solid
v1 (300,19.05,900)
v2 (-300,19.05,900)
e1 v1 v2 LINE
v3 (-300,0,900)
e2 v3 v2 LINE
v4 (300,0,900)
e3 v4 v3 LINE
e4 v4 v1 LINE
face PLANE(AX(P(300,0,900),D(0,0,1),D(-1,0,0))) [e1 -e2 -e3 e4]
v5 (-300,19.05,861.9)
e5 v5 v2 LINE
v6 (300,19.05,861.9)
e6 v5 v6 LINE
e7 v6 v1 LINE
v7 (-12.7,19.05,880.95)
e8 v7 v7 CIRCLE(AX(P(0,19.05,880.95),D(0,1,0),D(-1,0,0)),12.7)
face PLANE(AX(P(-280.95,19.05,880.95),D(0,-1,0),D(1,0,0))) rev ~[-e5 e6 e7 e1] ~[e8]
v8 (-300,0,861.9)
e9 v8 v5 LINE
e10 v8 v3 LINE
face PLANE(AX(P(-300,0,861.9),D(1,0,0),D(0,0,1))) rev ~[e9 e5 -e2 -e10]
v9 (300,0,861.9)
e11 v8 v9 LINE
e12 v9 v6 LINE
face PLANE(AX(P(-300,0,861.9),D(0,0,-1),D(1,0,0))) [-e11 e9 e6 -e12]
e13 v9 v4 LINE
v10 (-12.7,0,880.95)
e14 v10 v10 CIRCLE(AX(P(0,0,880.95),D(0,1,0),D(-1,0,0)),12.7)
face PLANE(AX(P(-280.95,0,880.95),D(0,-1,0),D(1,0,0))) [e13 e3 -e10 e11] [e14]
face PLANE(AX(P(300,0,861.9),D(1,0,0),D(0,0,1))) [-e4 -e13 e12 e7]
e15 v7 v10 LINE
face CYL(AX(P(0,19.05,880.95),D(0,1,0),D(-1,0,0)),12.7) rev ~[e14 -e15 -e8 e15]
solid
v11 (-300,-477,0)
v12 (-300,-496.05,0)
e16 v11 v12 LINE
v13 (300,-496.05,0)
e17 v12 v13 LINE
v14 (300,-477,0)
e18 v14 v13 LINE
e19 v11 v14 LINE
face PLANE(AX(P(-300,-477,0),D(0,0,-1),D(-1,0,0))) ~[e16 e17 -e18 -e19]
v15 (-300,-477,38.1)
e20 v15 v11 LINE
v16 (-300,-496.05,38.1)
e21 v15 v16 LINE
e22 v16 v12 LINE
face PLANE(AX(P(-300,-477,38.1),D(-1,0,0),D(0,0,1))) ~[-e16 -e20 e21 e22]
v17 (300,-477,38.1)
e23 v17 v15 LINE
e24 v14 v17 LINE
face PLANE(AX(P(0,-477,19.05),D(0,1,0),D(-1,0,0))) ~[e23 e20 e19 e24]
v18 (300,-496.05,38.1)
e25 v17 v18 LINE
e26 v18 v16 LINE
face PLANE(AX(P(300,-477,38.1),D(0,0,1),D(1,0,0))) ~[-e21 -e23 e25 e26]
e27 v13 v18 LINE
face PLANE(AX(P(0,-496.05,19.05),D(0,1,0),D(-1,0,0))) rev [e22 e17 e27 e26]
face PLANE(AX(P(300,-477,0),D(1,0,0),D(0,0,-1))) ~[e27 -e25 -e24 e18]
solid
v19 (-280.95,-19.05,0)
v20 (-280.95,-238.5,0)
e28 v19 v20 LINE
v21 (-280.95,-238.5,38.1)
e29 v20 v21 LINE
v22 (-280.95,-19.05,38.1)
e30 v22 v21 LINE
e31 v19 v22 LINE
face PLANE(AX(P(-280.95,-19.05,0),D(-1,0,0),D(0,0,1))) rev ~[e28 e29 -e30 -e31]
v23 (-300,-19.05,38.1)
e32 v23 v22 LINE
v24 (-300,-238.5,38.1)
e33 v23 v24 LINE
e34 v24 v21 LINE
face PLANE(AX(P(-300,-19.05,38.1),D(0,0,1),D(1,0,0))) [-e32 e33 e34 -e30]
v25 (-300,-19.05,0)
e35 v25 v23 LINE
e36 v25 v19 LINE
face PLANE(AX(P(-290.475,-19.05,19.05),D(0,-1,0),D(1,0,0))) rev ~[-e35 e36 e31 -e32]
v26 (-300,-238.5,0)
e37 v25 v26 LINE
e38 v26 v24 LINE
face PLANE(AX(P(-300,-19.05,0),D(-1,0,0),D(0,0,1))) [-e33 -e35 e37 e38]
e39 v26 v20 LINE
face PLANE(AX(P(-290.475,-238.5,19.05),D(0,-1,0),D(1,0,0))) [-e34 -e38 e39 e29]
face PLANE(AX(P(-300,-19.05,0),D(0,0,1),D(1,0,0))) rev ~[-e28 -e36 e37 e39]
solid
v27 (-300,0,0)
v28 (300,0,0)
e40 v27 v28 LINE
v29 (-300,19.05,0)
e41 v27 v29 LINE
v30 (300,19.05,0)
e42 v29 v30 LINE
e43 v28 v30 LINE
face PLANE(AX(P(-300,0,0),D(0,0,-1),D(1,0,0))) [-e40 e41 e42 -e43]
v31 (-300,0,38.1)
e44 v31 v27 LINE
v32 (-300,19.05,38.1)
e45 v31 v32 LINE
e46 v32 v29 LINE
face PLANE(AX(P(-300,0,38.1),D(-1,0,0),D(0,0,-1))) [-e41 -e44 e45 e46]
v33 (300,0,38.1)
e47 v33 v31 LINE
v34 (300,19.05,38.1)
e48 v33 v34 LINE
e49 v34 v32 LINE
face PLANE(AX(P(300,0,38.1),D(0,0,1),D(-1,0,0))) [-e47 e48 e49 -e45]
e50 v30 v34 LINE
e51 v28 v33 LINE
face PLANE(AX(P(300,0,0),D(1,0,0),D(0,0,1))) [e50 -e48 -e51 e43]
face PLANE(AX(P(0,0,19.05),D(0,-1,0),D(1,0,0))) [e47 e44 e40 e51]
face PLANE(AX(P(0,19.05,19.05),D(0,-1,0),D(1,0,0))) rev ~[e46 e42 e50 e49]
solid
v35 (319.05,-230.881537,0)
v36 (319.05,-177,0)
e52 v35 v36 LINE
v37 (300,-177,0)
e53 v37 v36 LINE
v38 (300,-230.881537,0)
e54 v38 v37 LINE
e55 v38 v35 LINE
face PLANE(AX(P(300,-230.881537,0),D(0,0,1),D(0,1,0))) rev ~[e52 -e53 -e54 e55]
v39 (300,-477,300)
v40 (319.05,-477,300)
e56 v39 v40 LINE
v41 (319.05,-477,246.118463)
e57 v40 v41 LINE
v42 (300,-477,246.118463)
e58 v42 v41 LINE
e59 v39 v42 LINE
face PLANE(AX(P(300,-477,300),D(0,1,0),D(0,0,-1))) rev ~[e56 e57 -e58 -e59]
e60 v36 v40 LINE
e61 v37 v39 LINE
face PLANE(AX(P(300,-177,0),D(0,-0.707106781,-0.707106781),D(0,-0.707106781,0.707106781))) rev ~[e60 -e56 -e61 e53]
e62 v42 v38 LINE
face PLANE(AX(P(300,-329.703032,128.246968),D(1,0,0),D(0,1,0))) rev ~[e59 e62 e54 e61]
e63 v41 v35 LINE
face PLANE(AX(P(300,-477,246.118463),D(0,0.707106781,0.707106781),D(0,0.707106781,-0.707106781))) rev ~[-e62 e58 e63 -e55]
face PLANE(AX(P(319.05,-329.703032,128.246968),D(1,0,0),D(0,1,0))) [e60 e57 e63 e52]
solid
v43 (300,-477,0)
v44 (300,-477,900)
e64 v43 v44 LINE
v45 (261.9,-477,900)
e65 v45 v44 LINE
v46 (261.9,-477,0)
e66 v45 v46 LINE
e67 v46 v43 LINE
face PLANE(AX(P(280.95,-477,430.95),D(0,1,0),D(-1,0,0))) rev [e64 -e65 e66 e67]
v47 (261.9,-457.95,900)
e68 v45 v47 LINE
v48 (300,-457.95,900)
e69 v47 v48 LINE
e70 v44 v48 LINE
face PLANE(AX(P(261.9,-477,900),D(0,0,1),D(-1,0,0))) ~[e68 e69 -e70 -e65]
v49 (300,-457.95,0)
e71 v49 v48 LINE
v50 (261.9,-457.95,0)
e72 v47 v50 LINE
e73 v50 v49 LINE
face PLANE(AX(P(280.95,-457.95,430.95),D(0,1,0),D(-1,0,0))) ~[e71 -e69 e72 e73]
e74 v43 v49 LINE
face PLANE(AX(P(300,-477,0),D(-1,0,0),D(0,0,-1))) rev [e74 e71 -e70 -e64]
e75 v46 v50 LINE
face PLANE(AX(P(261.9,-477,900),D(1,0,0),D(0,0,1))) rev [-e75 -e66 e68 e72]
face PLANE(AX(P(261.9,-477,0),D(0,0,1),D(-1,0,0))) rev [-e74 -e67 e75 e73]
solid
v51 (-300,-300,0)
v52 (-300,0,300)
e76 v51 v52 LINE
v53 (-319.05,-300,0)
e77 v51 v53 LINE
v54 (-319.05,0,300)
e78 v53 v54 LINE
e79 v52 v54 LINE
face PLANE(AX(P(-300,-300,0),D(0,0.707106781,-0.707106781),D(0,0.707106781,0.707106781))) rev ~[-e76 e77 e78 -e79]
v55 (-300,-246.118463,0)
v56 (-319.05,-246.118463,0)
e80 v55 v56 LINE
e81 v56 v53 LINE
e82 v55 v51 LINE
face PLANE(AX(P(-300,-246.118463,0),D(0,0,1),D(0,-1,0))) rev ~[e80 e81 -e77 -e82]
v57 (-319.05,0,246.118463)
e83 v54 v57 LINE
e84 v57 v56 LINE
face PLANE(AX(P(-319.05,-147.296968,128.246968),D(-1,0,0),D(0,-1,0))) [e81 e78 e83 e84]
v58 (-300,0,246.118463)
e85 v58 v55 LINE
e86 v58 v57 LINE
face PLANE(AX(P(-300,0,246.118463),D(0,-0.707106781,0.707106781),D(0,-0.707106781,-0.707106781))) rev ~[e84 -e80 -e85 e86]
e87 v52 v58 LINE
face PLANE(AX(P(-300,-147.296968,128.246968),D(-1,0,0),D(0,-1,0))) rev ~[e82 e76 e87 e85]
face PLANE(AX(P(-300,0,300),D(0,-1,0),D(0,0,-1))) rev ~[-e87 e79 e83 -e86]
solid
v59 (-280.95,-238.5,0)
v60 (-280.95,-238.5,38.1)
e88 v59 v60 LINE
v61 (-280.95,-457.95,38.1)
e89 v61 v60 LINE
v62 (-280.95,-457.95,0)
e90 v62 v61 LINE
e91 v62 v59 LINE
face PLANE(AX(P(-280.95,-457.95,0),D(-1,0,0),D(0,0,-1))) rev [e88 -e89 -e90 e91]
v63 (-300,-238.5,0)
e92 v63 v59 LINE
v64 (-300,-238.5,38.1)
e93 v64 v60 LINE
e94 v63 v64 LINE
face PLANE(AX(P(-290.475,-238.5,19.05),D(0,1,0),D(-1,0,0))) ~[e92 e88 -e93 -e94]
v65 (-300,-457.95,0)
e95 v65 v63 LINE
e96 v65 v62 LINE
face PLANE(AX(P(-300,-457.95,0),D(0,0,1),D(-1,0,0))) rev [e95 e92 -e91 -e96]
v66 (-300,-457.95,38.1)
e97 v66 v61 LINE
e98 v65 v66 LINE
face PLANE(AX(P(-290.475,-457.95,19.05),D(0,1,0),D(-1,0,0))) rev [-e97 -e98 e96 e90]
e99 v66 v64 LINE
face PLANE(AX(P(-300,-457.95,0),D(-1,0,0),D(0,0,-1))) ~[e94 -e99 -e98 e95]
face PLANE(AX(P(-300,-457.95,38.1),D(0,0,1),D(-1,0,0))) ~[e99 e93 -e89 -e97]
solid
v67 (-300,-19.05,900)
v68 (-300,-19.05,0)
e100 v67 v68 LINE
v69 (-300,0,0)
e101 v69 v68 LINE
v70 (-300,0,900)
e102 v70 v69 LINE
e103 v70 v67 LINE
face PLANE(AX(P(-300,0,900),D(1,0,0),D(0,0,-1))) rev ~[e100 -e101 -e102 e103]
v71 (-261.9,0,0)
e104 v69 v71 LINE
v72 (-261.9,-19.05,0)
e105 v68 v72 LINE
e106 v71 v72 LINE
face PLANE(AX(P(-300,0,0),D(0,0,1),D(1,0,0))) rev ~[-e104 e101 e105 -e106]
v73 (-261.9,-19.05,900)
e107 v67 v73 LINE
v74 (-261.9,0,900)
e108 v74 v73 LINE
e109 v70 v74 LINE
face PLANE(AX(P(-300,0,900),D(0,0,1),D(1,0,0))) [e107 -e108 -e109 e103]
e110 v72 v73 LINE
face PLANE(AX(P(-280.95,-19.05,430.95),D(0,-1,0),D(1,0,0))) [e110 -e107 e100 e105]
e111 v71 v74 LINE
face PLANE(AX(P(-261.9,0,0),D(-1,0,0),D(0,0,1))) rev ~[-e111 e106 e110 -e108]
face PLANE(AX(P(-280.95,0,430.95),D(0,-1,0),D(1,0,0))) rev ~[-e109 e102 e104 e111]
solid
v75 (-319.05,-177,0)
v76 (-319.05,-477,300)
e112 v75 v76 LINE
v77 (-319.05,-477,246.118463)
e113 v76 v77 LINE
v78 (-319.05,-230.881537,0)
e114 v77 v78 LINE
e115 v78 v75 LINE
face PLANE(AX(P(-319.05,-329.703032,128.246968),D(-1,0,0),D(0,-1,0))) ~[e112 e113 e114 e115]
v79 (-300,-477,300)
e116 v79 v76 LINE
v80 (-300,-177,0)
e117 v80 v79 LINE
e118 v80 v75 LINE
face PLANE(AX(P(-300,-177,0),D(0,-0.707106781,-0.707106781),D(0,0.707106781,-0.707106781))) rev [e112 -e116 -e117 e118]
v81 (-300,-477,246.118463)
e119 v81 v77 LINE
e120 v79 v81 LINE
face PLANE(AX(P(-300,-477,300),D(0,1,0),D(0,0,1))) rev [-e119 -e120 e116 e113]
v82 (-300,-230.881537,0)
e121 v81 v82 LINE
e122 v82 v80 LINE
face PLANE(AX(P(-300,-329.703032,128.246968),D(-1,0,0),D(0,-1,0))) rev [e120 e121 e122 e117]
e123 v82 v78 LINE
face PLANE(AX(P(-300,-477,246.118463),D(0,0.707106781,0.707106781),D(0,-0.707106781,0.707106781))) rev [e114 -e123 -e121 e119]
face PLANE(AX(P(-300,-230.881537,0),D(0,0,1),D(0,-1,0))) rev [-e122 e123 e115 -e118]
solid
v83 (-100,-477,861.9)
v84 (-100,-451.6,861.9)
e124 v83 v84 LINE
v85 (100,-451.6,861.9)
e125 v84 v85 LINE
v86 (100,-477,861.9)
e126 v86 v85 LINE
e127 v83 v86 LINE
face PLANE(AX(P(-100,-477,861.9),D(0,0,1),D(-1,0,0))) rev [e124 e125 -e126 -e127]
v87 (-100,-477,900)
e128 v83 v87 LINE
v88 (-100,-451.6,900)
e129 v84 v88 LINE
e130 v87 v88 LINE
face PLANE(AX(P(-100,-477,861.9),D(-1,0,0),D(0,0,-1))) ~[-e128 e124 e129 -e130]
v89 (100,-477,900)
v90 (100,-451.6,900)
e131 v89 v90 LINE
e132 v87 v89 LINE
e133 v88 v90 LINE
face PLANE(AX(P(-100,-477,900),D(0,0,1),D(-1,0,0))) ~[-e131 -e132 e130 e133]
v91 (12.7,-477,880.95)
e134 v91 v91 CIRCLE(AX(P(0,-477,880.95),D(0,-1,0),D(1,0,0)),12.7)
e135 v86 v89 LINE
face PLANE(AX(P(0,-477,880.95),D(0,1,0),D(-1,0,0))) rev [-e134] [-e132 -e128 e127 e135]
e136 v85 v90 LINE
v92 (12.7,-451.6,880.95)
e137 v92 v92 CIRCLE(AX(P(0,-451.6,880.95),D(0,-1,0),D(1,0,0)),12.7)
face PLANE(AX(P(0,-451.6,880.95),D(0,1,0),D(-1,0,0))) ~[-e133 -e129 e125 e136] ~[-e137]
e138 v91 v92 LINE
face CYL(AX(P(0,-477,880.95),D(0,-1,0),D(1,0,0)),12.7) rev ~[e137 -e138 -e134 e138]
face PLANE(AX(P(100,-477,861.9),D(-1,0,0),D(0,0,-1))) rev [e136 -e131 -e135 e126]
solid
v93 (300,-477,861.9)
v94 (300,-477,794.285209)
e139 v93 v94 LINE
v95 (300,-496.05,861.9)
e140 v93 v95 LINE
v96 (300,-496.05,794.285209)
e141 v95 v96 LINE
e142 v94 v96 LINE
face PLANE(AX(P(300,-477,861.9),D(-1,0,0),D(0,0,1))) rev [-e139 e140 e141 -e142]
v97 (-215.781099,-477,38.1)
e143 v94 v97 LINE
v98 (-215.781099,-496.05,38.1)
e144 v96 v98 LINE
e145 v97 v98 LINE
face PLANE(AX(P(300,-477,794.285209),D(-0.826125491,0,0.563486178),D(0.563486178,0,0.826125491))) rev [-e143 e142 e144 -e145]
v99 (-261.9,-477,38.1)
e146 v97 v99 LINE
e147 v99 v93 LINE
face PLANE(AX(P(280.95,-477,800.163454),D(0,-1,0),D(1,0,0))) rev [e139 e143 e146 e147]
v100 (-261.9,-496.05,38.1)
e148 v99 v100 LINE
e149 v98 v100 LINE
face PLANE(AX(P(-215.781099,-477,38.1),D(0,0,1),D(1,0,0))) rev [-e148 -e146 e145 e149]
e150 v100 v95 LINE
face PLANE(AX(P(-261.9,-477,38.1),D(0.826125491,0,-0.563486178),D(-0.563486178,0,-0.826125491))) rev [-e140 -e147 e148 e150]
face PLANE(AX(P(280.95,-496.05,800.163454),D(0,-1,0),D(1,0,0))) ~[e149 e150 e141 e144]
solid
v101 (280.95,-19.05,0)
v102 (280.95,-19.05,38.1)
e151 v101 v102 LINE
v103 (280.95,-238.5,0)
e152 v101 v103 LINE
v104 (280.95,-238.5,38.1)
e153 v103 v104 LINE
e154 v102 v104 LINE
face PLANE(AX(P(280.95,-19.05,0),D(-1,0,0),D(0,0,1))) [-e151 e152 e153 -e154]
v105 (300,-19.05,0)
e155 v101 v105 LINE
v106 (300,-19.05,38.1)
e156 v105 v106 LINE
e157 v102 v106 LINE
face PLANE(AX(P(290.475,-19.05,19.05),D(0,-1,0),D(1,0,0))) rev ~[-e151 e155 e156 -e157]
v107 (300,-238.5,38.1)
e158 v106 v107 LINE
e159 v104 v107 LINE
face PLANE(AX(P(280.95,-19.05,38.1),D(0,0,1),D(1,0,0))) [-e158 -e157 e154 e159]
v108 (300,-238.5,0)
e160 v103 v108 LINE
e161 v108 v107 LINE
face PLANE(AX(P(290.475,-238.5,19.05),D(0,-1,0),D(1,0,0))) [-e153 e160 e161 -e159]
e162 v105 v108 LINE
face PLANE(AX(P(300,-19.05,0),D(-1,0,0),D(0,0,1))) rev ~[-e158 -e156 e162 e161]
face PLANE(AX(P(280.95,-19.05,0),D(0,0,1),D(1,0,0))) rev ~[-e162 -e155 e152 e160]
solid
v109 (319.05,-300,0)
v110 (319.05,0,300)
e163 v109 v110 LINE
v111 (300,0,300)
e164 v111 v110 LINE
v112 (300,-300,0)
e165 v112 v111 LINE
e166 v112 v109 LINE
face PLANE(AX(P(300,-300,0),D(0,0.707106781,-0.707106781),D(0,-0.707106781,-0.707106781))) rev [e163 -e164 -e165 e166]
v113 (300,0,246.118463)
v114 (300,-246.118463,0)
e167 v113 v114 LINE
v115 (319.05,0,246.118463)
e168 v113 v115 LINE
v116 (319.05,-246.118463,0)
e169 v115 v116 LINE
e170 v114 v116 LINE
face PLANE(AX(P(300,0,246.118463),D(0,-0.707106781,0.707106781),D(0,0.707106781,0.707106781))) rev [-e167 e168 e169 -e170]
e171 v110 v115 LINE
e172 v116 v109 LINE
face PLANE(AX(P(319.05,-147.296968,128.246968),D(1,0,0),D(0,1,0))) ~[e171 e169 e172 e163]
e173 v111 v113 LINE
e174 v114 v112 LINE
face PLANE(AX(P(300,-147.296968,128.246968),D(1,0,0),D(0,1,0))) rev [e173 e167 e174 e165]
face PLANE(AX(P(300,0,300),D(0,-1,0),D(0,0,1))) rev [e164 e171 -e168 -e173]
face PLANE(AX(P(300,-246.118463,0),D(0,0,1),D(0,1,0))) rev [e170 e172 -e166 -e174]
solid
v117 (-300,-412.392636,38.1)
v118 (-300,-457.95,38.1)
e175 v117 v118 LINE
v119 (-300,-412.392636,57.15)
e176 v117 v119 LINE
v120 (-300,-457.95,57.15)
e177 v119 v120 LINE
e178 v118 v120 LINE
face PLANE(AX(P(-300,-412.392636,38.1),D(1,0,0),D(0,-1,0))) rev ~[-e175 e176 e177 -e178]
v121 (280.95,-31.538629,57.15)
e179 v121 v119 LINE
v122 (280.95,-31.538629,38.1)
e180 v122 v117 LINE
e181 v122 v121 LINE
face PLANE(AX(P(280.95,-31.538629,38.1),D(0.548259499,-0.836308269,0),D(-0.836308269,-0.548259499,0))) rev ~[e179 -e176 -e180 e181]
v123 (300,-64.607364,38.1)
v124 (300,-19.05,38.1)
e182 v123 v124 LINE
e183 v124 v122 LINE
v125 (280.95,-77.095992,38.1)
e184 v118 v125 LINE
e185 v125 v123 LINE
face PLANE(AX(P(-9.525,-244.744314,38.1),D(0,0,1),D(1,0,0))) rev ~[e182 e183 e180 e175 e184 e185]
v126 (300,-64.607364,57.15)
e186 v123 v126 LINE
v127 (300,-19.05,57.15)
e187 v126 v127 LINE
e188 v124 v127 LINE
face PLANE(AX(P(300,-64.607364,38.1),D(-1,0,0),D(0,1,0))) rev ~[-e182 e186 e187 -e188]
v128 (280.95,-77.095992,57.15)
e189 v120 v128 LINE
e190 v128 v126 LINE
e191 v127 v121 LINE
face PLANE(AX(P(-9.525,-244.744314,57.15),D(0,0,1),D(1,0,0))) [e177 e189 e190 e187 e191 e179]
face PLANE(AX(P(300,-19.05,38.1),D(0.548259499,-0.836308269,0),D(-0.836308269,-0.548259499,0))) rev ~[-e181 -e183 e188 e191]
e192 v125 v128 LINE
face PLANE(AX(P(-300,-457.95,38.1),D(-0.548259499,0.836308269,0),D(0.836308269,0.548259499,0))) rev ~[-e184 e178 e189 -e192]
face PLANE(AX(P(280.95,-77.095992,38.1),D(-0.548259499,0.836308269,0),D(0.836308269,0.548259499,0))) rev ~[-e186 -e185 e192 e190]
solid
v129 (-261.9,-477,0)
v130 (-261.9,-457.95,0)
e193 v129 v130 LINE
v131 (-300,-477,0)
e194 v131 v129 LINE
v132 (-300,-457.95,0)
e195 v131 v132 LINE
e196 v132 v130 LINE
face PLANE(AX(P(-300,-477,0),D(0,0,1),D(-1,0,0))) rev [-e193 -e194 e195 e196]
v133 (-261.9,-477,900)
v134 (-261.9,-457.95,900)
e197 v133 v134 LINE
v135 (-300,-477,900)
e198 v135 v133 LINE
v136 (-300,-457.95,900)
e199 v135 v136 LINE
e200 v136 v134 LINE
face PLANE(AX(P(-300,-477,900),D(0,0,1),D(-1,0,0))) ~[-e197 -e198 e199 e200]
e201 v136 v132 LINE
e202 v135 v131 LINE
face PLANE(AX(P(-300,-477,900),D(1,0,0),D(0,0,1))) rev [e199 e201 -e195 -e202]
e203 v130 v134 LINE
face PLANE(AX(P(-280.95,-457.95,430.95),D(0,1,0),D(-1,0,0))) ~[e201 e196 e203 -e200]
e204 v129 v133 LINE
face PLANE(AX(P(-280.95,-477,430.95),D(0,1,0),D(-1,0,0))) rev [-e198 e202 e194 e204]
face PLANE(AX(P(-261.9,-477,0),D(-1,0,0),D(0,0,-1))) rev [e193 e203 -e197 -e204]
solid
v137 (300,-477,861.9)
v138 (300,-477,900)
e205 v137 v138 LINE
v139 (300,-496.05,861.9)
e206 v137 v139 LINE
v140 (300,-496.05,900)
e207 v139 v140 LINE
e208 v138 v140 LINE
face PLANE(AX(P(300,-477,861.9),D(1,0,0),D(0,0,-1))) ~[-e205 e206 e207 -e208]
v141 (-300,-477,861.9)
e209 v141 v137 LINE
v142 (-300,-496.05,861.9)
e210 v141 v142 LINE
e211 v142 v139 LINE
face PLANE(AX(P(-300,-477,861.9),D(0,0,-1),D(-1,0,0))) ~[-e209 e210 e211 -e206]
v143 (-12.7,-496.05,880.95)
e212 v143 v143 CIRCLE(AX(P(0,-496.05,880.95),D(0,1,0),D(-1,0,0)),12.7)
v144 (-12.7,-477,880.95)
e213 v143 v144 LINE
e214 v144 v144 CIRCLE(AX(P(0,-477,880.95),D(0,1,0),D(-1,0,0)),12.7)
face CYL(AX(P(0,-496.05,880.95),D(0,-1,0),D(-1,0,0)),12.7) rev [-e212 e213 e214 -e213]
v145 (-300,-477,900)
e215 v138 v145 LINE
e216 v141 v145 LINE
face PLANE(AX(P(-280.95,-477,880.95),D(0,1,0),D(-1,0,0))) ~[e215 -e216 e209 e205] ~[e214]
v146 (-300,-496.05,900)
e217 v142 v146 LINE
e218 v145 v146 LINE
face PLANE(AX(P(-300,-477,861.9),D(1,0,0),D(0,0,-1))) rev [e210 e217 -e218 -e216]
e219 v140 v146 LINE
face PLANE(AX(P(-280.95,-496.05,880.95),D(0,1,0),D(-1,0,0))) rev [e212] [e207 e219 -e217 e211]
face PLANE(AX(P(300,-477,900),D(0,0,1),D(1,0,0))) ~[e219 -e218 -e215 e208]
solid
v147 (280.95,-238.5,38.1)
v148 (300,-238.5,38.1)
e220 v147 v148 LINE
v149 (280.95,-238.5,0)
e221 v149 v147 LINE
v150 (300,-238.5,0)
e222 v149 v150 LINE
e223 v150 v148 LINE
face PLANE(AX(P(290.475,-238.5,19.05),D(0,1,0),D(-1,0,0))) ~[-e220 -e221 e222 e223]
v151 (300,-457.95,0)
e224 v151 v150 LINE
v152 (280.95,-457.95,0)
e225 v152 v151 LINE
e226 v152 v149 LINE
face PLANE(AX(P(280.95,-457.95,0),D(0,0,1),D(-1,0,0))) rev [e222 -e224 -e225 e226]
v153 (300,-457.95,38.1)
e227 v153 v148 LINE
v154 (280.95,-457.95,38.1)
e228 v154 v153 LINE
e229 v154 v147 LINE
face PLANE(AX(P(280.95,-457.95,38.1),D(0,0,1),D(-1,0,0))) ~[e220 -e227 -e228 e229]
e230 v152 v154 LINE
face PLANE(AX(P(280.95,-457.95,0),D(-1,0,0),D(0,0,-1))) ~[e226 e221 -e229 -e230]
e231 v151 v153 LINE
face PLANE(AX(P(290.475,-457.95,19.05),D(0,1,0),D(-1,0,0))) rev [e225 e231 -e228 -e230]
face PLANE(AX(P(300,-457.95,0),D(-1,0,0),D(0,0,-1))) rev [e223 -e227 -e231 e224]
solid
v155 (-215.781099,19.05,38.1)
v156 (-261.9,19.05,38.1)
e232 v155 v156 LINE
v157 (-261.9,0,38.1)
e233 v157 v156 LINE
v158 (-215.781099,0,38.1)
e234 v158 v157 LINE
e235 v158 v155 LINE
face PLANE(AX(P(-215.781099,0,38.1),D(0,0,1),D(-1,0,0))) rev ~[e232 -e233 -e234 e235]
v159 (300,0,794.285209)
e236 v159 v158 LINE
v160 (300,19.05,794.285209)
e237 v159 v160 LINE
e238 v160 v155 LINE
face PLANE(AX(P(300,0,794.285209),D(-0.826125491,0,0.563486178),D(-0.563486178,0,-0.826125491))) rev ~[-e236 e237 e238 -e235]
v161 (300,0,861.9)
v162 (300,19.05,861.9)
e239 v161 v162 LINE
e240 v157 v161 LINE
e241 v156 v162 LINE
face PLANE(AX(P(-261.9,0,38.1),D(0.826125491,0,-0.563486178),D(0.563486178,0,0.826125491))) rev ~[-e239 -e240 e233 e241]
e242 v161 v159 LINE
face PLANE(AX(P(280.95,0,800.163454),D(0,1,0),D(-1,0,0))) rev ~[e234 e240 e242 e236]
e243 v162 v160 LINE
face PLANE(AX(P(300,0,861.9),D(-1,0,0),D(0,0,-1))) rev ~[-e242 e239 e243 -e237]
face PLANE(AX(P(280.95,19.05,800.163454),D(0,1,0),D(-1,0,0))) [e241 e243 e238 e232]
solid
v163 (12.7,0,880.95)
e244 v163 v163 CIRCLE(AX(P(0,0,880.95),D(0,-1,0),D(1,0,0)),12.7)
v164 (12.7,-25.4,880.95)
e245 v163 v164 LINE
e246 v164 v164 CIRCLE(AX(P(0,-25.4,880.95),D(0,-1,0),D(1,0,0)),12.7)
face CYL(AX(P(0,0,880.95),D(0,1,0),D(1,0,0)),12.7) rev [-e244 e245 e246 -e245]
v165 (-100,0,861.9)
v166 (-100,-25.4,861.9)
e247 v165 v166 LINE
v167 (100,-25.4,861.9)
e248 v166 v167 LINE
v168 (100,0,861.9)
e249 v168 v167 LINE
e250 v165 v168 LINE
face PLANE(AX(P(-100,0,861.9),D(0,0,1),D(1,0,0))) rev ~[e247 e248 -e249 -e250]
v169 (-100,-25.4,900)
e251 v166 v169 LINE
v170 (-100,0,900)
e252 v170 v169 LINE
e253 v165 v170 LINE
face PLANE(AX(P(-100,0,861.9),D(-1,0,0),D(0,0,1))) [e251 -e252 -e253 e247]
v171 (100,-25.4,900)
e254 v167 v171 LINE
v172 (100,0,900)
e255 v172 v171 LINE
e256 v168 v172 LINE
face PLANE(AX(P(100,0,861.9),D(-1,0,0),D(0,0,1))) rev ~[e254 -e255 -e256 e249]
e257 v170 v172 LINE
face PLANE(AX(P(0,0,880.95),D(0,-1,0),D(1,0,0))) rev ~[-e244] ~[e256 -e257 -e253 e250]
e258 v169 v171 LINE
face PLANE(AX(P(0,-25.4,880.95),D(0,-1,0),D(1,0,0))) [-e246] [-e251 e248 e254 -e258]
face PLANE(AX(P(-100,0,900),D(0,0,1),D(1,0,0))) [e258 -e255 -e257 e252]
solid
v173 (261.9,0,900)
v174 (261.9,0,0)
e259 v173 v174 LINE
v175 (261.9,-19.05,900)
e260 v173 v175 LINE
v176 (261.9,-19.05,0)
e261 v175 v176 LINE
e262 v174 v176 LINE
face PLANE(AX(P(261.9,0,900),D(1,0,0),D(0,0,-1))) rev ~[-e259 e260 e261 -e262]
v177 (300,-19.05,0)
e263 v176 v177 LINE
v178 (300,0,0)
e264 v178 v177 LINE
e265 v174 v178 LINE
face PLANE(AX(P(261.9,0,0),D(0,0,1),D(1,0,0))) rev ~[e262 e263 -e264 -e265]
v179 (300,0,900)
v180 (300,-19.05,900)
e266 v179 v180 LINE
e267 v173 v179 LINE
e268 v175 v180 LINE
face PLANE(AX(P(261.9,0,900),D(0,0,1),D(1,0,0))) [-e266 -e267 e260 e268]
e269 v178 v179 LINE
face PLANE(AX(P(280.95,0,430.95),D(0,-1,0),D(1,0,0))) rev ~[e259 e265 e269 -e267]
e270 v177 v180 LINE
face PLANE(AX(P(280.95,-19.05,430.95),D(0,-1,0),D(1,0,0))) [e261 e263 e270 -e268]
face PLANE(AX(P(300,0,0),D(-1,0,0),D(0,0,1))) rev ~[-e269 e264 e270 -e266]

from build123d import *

# Parameters (mm, degrees)
F0_W      = 38.1
F0_H      = 38.1
F0_W_2    = 523.8
F1_DEPTH  = 19.05
F2_W      = 38.1
F2_H      = 861.9
F2_H_2    = 38.1
F3_DEPTH  = 19.05
F5_DEPTH  = 19.05
F6_R      = 12.7
F7_DEPTH  = 25
F8_W      = 19.05
F8_H      = 38.1
F9_DEPTH  = 219.45
F11_DEPTH = 19.05
F12_W     = 200
F12_H     = 38.1
F12_R     = 12.7
F13_DEPTH = 25.4
F17_DEPTH = 19.05


with BuildPart() as f1:
    # F0 (on Front) → F1 (new body)
    with BuildSketch(Plane.XZ):
        with Locations((-280.95, 880.95)):
            Rectangle(F0_W, F0_H)
        with Locations((0, 880.95)):
            Rectangle(F0_W_2, F0_H)
        with Locations((280.95, 880.95)):
            Rectangle(F0_W, F0_H)
    extrude(amount=-F1_DEPTH)

    # F6 (on face) → F7 (cut)
    with BuildSketch(Plane(origin=(0, 19.05, 0), x_dir=(-1, 0, 0), z_dir=(0, 1, 0))):
        with Locations((0, 880.95)):
            Circle(F6_R)
    extrude(amount=-F7_DEPTH, mode=Mode.SUBTRACT)


with BuildPart() as f1b:
    # F0 (on Front) → F1, piece 2 (new body)
    with BuildSketch(Plane.XZ):
        Polygon((-300, 38.1), (-300, 0), (300, 0), (300, 38.1), (261.9, 38.1), (-261.9, 38.1), align=None)
    extrude(amount=-F1_DEPTH)


with BuildPart() as f3:
    # F2 (on face) → F3 (new body)
    with BuildSketch(Plane.XZ):
        with Locations((-280.95, 430.95)):
            Rectangle(F2_W, F2_H)
        with Locations((-280.95, 880.95)):
            Rectangle(F2_W, F2_H_2)
    extrude(amount=F3_DEPTH)


with BuildPart() as f3b:
    # F2 (on face) → F3, piece 2 (new body)
    with BuildSketch(Plane.XZ):
        with Locations((280.95, 430.95)):
            Rectangle(F2_W, F2_H)
        with Locations((280.95, 880.95)):
            Rectangle(F2_W, F2_H_2)
    extrude(amount=F3_DEPTH)


with BuildPart() as f5:
    # F4 (on face) → F5 (new body)
    with BuildSketch(Plane(origin=(0, 0, 0), x_dir=(-1, 0, 0), z_dir=(0, 1, 0))):
        Polygon((-261.9, 806.041697811), (-300, 861.9), (-300, 794.285209285), (-261.9, 738.426907096), align=None)
        Polygon((261.9, 38.1), (-261.9, 806.041697811), (-261.9, 738.426907096), (215.7810986856, 38.1), align=None)
    extrude(amount=F5_DEPTH)


with BuildPart() as f9:
    # F8 (on face) → F9 (new body)
    with BuildSketch(Plane.XZ.offset(19.05)):
        with Locations((-290.475, 19.05)):
            Rectangle(F8_W, F8_H)
    extrude(amount=F9_DEPTH)


with BuildPart() as f9b:
    # F8 (on face) → F9, piece 2 (new body)
    with BuildSketch(Plane.XZ.offset(19.05)):
        with Locations((290.475, 19.05)):
            Rectangle(F8_W, F8_H)
    extrude(amount=F9_DEPTH)


with BuildPart() as f11:
    # F10 (on face) → F11 (new body)
    with BuildSketch(Plane(origin=(-300, 0, 0), x_dir=(0, -1, 0), z_dir=(-1, 0, 0))):
        Polygon((300, 0), (19.05, 280.95), (19.05, 227.0684632736), (246.1184632736, 0), align=None)
        Polygon((19.05, 280.95), (0, 300), (0, 246.1184632736), (19.05, 227.0684632736), align=None)
    extrude(amount=F11_DEPTH)


with BuildPart() as f13:
    # F12 (on face) → F13 (new body)
    with BuildSketch(Plane.XZ):
        with Locations((0, 880.95)):
            Rectangle(F12_W, F12_H)
        with Locations((0, 880.95)):
            Circle(F12_R, mode=Mode.SUBTRACT)
    extrude(amount=F13_DEPTH)


with BuildPart() as f14_1:
    # F14: instance of F11
    add(f11.part.mirror(Plane.YZ))


with BuildPart() as f15_1:
    # F15: instance of F1b
    add(f1b.part.mirror(Plane(origin=(-290.475, -238.5, 19.05), x_dir=(1, 0, 0), z_dir=(0, -1, 0))))


with BuildPart() as f15_2:
    # F15: instance of F1
    add(f1.part.mirror(Plane(origin=(-290.475, -238.5, 19.05), x_dir=(1, 0, 0), z_dir=(0, -1, 0))))


with BuildPart() as f15_3:
    # F15: instance of F3
    add(f3.part.mirror(Plane(origin=(-290.475, -238.5, 19.05), x_dir=(1, 0, 0), z_dir=(0, -1, 0))))


with BuildPart() as f15_4:
    # F15: instance of F3b
    add(f3b.part.mirror(Plane(origin=(-290.475, -238.5, 19.05), x_dir=(1, 0, 0), z_dir=(0, -1, 0))))


with BuildPart() as f15_5:
    # F15: instance of F5
    add(f5.part.mirror(Plane(origin=(-290.475, -238.5, 19.05), x_dir=(1, 0, 0), z_dir=(0, -1, 0))))


with BuildPart() as f15_6:
    # F15: instance of F9
    add(f9.part.mirror(Plane(origin=(-290.475, -238.5, 19.05), x_dir=(1, 0, 0), z_dir=(0, -1, 0))))


with BuildPart() as f15_7:
    # F15: instance of F9b
    add(f9b.part.mirror(Plane(origin=(-290.475, -238.5, 19.05), x_dir=(1, 0, 0), z_dir=(0, -1, 0))))


with BuildPart() as f15_8:
    # F15: instance of F11
    add(f11.part.mirror(Plane(origin=(-290.475, -238.5, 19.05), x_dir=(1, 0, 0), z_dir=(0, -1, 0))))


with BuildPart() as f15_9:
    # F15: instance of F14_1
    add(f14_1.part.mirror(Plane(origin=(-290.475, -238.5, 19.05), x_dir=(1, 0, 0), z_dir=(0, -1, 0))))


with BuildPart() as f15_10:
    # F15: instance of F13
    add(f13.part.mirror(Plane(origin=(-290.475, -238.5, 19.05), x_dir=(1, 0, 0), z_dir=(0, -1, 0))))


with BuildPart() as f17:
    # F16 (on face) → F17 (new body)
    with BuildSketch(Plane.XY.offset(38.1)):
        Polygon((280.95, -77.0959924044), (280.95, -31.5386287025), (-300, -412.392636298), (-300, -457.95), align=None)
        Polygon((300, -64.607363702), (300, -19.05), (280.95, -31.5386287025), (280.95, -77.0959924044), align=None)
    extrude(amount=F17_DEPTH)


solid = Compound([f1.part, f1b.part, f3.part, f3b.part, f5.part, f9.part, f9b.part, f11.part, f13.part, f14_1.part, f15_1.part, f15_2.part, f15_3.part, f15_4.part, f15_5.part, f15_6.part, f15_7.part, f15_8.part, f15_9.part, f15_10.part, f17.part])
